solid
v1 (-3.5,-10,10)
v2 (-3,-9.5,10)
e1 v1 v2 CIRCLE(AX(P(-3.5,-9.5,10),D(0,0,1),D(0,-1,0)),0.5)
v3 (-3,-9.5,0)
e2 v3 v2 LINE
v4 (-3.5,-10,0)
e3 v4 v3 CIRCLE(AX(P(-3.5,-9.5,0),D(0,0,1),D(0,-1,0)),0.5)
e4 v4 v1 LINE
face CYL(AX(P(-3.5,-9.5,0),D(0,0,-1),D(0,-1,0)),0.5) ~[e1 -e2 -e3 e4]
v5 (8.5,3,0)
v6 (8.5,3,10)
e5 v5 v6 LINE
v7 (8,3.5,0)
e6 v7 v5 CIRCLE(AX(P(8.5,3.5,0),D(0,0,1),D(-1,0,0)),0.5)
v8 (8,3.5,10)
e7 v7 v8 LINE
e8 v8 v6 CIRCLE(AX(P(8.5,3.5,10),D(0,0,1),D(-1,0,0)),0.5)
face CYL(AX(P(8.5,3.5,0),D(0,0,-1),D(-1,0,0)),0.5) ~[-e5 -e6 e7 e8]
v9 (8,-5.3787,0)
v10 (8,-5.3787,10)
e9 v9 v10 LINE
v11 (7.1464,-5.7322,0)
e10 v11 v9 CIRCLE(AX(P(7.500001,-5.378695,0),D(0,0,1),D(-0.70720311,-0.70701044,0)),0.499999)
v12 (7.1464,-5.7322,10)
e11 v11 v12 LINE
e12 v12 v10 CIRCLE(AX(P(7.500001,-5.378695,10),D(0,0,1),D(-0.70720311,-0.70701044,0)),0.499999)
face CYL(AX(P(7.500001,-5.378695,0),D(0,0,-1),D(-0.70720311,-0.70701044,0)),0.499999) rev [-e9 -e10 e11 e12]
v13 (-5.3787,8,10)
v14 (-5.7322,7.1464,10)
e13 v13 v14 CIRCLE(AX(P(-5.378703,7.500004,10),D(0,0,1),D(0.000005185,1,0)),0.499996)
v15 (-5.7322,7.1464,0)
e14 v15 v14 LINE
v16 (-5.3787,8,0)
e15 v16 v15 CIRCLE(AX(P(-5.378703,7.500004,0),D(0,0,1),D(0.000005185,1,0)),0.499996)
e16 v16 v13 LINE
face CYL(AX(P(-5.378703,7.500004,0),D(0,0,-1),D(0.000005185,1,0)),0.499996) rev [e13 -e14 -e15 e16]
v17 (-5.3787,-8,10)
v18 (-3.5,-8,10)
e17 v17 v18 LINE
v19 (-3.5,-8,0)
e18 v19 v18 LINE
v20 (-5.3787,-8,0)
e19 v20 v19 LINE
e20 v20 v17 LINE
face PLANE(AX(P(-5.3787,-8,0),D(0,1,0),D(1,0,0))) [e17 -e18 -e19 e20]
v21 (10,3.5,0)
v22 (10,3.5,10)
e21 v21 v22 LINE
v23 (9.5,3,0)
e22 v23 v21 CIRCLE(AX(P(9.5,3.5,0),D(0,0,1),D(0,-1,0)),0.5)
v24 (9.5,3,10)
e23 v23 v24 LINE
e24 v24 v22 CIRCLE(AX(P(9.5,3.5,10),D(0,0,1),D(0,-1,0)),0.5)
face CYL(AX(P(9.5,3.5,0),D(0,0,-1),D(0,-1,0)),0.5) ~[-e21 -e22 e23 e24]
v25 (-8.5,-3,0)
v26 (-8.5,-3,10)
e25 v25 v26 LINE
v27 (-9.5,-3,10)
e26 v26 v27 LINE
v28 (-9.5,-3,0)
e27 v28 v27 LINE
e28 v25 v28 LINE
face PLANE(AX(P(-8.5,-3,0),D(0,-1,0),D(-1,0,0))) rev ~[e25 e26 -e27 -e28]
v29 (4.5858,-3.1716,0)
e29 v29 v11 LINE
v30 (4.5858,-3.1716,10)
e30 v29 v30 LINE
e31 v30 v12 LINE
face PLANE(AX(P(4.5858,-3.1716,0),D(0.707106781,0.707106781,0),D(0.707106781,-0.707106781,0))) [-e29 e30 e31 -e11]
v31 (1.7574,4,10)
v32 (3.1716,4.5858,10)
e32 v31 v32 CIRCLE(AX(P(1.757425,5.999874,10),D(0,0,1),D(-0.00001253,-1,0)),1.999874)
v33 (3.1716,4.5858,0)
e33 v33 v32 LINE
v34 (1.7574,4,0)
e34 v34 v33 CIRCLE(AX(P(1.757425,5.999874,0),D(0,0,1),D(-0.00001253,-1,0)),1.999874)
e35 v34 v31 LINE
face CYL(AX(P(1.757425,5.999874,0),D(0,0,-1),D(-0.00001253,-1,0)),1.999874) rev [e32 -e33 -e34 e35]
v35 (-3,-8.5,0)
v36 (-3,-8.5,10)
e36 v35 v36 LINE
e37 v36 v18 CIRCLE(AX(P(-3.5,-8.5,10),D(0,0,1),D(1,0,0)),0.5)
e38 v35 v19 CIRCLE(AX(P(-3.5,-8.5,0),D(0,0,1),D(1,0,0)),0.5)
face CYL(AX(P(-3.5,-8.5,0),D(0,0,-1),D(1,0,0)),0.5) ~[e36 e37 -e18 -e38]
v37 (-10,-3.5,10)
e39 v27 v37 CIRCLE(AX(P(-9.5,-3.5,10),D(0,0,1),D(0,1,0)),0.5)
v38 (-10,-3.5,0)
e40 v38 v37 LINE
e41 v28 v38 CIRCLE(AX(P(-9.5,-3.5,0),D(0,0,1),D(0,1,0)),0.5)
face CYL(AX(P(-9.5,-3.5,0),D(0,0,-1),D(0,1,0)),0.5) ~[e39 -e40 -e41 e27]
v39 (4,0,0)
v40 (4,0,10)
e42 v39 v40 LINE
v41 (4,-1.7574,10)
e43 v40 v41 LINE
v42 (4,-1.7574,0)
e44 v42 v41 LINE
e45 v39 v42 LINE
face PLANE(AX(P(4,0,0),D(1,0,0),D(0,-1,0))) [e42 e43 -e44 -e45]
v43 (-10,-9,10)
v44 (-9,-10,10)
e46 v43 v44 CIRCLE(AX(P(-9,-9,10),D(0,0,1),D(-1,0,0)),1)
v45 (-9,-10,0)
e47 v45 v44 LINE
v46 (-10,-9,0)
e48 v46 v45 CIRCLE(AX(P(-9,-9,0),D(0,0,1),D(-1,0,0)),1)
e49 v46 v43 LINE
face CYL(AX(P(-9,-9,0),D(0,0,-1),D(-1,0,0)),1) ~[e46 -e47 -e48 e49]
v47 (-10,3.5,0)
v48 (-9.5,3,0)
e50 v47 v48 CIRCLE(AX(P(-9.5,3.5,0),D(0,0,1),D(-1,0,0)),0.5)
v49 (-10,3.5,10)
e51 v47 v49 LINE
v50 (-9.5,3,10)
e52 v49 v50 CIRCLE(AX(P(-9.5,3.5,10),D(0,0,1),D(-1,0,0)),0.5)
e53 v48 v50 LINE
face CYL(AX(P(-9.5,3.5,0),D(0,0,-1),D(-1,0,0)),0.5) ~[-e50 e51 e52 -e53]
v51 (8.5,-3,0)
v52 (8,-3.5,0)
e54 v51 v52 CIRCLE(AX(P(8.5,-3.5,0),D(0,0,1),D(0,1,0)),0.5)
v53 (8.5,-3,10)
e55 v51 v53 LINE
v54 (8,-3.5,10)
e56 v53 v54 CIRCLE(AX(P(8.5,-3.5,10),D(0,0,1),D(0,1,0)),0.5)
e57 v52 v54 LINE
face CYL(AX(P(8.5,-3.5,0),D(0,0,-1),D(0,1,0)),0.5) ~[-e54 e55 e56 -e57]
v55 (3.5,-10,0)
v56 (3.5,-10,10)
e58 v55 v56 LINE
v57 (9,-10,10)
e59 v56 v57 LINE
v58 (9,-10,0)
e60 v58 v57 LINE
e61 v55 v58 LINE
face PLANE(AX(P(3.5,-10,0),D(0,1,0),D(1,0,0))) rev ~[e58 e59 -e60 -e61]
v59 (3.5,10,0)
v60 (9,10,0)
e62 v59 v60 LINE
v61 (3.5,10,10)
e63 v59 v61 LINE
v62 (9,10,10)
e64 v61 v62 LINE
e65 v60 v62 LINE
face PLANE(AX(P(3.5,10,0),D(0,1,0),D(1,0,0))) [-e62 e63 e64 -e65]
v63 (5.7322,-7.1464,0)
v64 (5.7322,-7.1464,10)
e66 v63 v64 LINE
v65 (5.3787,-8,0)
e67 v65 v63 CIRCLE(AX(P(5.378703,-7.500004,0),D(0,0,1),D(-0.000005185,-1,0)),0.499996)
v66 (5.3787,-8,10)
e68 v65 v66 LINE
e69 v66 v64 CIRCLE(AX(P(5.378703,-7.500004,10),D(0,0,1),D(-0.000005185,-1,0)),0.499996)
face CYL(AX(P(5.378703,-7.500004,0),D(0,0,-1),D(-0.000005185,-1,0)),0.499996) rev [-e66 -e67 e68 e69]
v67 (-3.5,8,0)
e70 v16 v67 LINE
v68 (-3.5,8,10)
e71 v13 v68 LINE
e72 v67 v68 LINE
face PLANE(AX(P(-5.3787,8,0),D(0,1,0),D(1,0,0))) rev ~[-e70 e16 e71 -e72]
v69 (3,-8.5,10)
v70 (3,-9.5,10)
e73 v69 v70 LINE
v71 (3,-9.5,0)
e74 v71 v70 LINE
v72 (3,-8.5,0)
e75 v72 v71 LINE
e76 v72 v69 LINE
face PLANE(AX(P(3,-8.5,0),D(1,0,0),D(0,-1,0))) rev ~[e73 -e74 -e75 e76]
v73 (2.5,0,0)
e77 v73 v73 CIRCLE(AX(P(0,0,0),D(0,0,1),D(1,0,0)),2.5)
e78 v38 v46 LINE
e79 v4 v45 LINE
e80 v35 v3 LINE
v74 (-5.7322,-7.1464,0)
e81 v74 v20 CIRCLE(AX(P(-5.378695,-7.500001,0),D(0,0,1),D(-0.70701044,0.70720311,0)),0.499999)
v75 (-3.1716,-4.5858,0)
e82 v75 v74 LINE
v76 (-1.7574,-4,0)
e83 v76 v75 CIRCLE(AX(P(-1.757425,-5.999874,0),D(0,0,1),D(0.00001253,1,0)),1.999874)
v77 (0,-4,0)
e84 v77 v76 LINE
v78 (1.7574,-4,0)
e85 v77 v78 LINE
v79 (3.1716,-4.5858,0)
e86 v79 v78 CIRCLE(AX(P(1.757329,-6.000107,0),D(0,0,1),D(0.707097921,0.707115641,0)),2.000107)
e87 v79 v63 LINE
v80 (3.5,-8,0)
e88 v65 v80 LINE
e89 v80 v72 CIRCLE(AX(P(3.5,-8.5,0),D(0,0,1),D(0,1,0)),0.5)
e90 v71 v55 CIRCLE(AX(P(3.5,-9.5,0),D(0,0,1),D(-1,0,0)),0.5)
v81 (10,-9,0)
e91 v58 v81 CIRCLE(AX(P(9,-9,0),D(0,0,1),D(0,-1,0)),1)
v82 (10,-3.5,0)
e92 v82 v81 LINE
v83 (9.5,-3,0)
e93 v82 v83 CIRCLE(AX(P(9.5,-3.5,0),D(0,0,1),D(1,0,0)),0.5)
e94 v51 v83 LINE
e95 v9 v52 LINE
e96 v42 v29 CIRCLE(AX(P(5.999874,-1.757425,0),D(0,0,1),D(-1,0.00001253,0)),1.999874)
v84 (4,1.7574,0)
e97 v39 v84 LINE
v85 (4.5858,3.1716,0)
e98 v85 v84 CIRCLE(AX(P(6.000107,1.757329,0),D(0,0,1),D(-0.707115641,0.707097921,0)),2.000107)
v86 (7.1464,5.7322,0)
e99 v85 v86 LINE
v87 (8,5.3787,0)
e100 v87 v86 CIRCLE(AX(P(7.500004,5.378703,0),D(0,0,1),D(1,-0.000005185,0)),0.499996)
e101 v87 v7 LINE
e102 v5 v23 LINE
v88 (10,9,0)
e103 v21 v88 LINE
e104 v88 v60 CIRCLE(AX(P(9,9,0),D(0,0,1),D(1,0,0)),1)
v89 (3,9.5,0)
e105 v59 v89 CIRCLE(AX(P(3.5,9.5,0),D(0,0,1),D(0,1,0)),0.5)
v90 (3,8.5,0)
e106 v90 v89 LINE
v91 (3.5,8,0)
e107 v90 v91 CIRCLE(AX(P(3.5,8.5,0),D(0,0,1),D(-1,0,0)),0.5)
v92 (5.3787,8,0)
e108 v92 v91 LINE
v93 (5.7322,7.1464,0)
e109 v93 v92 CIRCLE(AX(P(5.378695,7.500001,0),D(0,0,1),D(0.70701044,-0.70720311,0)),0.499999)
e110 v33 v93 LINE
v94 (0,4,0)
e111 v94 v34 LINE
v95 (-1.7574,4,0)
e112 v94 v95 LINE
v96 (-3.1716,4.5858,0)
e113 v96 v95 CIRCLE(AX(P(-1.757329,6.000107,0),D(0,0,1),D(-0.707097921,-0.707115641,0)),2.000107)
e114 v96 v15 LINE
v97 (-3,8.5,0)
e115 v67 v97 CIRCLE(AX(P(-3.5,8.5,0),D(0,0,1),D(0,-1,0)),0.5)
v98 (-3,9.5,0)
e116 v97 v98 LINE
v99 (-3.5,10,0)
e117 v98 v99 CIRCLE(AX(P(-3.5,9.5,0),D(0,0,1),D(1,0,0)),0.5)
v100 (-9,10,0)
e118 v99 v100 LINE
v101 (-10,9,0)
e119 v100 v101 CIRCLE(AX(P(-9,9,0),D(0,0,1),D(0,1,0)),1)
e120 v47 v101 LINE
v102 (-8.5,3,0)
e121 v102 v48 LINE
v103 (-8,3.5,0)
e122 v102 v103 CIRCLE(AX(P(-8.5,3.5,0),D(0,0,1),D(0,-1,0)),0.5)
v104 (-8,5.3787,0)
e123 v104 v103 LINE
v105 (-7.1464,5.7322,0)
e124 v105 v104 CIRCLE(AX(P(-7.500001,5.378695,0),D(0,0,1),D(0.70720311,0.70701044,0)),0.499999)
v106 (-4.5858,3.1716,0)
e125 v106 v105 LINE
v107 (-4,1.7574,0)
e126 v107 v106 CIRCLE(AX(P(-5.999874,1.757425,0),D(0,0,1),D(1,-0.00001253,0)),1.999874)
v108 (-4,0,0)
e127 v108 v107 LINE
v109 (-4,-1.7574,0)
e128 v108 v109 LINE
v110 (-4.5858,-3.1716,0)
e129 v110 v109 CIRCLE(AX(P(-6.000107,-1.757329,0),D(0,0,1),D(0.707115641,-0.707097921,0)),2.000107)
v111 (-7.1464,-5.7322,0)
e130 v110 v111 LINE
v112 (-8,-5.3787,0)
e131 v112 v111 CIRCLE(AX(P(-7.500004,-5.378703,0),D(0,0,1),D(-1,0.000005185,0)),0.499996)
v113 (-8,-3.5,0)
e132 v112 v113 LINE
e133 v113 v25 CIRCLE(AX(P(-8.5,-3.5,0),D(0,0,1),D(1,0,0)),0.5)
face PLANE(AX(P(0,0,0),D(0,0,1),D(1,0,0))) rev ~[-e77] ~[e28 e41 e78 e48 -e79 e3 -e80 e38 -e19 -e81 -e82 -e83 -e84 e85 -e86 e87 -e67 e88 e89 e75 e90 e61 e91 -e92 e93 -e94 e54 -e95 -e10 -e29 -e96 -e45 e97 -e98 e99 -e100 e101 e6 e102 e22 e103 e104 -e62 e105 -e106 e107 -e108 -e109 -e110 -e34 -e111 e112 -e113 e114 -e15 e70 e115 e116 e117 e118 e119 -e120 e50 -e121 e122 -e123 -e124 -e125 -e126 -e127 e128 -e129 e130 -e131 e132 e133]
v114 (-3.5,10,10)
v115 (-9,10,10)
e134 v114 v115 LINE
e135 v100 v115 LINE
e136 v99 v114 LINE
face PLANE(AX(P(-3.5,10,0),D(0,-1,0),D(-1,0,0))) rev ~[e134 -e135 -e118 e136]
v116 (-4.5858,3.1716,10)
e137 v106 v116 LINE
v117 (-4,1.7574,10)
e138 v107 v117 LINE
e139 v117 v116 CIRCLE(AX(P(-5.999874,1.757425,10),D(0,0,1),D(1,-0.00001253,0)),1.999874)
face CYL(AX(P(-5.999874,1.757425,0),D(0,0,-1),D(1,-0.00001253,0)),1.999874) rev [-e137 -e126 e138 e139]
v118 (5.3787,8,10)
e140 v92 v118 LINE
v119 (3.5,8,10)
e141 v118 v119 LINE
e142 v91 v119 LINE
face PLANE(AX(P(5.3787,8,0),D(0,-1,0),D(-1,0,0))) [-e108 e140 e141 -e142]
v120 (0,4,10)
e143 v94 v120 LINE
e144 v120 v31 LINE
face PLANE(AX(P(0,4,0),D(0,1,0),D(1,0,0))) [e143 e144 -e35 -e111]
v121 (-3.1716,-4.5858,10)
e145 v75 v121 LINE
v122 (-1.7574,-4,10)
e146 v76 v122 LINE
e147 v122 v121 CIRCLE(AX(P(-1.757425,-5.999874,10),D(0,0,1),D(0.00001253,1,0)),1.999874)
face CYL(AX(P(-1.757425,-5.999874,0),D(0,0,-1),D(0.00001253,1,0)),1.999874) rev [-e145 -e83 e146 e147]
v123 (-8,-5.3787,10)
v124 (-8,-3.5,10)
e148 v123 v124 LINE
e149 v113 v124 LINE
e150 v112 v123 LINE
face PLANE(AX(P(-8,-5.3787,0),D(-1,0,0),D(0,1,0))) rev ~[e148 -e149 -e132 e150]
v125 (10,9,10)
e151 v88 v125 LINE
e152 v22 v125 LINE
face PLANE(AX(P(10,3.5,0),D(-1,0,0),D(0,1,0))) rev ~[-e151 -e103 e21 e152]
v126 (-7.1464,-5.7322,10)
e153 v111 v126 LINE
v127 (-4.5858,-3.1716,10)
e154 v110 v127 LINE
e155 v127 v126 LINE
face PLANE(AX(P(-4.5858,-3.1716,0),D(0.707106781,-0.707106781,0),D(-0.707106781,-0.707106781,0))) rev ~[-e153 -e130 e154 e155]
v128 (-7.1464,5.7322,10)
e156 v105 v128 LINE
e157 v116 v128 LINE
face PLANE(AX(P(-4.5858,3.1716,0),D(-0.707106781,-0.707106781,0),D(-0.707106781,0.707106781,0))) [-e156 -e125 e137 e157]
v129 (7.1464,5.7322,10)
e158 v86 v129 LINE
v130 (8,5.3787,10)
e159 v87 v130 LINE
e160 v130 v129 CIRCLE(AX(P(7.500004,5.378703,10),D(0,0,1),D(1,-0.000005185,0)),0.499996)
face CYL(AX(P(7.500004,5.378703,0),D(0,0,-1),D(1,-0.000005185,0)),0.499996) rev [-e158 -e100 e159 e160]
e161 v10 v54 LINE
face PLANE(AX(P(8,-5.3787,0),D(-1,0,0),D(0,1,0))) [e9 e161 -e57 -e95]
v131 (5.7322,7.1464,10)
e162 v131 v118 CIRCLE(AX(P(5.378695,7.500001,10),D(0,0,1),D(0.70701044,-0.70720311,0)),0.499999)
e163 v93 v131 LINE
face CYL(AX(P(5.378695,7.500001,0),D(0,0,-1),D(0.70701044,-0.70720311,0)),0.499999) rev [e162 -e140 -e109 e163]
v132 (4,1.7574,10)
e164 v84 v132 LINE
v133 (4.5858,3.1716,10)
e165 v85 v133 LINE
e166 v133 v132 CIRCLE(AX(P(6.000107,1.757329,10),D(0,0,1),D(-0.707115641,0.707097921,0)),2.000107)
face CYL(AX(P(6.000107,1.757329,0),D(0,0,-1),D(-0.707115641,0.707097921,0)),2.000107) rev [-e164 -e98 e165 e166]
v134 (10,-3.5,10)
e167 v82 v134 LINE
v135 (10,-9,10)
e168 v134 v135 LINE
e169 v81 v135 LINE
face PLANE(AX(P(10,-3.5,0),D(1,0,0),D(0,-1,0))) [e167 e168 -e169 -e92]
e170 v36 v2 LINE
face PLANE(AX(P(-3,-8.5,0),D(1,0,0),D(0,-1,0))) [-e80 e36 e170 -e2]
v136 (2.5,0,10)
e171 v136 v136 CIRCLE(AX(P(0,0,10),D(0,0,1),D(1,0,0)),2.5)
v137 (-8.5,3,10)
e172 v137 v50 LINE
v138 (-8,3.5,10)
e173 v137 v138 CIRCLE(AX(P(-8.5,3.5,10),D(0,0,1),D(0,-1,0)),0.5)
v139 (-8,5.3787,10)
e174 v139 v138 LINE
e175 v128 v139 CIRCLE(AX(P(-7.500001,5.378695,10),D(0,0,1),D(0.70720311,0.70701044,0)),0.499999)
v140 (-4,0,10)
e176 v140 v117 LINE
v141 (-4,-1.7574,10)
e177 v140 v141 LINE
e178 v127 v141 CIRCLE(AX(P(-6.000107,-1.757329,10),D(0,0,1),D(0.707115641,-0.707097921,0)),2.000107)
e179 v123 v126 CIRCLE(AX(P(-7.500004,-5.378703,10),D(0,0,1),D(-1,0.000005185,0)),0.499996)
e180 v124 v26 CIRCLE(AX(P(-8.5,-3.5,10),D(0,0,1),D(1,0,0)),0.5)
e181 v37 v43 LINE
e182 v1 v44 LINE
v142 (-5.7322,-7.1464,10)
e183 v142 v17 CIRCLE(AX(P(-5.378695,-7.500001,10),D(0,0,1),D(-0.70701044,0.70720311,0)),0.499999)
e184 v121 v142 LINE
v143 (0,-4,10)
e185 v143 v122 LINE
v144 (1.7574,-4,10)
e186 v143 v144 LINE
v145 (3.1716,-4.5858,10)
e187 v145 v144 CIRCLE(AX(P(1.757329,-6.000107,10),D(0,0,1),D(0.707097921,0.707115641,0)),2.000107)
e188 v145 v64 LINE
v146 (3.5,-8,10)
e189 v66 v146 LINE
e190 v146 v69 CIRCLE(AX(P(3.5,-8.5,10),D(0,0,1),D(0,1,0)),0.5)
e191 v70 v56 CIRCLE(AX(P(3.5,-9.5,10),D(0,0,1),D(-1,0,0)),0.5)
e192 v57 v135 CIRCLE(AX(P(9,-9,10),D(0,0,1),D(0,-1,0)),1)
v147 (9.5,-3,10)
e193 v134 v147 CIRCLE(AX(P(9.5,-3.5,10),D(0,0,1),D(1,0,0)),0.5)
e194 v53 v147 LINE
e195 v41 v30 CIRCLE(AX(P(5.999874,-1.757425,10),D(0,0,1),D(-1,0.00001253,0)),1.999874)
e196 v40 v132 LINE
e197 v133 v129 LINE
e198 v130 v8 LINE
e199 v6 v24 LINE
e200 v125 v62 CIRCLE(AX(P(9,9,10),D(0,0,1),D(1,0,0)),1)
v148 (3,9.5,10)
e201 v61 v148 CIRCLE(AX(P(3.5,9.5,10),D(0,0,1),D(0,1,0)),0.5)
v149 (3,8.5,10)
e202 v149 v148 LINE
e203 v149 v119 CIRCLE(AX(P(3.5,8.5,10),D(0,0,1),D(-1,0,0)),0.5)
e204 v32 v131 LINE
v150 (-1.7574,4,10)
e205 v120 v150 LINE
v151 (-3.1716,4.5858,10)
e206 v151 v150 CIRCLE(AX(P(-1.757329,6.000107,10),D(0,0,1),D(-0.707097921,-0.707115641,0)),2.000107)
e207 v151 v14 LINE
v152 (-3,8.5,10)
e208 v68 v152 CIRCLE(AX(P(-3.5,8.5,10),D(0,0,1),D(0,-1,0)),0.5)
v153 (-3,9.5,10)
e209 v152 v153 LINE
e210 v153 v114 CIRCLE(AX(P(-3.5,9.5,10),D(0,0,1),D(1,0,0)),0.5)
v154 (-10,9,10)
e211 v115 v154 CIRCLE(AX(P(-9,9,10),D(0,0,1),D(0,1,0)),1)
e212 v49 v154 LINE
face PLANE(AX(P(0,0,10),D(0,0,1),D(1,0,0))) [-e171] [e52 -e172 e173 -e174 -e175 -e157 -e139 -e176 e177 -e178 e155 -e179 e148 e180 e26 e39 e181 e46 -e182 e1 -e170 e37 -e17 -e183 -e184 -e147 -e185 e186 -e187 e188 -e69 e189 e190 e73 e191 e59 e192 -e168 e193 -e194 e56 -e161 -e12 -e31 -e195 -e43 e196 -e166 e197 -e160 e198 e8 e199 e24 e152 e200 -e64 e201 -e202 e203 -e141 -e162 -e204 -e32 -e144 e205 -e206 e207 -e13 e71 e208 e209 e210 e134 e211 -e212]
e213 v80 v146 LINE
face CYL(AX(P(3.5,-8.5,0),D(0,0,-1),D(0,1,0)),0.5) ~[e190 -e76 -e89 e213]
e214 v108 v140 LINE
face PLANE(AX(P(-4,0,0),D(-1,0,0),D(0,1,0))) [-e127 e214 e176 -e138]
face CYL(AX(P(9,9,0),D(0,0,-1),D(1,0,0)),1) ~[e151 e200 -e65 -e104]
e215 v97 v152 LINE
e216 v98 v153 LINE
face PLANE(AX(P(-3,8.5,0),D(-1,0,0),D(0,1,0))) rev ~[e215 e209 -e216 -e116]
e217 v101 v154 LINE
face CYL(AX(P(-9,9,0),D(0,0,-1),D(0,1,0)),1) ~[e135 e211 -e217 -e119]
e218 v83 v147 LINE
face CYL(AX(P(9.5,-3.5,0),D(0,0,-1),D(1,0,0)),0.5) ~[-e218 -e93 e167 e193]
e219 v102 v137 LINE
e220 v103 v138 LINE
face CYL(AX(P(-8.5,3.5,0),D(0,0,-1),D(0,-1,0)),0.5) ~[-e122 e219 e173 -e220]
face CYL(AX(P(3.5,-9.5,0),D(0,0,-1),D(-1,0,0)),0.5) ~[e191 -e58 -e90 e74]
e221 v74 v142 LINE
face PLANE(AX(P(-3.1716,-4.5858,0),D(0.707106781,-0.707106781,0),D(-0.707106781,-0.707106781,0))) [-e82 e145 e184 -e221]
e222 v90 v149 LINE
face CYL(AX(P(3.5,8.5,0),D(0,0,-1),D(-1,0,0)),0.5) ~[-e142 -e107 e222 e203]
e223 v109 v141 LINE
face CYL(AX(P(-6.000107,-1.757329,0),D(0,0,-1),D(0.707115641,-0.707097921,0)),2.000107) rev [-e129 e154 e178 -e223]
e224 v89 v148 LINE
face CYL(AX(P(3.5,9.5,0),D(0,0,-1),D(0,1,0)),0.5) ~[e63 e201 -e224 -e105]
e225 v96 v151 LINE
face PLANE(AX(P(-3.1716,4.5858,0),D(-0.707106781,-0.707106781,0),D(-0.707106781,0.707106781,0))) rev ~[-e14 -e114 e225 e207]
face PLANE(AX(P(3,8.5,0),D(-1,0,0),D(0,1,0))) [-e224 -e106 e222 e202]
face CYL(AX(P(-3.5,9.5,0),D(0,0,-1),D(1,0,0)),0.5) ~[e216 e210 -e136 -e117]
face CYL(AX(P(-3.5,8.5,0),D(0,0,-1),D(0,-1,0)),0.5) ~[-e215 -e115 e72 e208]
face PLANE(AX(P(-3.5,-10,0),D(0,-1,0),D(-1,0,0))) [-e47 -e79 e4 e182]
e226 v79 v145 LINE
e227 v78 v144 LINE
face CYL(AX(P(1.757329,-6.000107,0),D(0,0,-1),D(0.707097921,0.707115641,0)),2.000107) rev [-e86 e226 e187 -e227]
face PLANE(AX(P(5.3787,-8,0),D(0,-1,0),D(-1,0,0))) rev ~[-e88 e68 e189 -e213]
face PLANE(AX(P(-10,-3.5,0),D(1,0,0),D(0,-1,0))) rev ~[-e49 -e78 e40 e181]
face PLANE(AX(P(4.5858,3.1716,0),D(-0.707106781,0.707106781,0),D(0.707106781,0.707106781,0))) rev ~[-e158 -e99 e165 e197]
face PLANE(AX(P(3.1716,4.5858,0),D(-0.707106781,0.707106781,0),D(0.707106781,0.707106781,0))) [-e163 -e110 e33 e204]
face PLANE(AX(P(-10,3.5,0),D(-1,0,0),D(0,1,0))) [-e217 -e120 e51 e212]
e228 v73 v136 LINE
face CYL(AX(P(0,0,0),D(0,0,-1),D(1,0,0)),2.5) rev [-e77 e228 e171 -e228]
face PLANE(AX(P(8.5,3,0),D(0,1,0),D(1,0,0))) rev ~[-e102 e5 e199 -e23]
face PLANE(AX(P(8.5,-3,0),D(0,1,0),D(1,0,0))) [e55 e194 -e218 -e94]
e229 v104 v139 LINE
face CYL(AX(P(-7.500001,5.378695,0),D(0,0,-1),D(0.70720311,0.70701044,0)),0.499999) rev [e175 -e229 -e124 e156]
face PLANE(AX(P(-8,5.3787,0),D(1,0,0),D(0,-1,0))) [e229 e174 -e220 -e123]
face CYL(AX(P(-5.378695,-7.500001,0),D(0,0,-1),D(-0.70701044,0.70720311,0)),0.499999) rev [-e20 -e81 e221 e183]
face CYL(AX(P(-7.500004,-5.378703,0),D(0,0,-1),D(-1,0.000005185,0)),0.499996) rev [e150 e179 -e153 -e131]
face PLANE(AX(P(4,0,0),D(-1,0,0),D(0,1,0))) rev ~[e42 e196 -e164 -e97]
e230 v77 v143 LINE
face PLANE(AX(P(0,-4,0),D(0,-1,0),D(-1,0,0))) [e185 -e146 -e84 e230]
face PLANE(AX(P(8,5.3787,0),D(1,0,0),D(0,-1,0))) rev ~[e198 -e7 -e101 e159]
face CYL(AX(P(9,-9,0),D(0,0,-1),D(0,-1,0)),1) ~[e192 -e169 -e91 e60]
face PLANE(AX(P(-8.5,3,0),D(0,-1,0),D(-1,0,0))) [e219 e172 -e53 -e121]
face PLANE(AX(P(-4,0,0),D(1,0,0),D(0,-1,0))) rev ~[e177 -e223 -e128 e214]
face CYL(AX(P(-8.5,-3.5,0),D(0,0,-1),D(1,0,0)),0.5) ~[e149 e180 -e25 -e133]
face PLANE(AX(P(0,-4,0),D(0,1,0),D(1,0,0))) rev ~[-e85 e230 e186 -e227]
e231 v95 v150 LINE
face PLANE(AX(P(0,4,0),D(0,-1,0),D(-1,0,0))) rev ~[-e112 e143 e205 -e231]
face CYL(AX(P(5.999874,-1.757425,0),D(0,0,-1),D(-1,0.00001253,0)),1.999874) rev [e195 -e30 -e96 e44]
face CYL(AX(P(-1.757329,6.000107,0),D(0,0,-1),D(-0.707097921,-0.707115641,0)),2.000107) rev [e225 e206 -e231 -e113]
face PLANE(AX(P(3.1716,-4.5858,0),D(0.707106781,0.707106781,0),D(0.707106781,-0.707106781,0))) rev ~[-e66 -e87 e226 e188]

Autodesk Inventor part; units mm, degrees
ref_plane "YZ Plane" through (0, 0, 0) normal (1, 0, 0) x (0, 1, 0)
ref_plane "Start Plane" through (0, 0, 0) normal (0, 0, 1) x (1, 0, 0)
ref_plane "End Plane" through (0, 0, 10) normal (0, 0, 1) x (1, 0, 0)
sketch "Sketch1" plane through (0, 0, 0) normal (0, 0, 1) x (1, 0, 0)
  line L0 (0, 0) -> (2.5, 0) construction
  line L1 (0, 0) -> (0, 2.5) construction
  line L2 (0, 4) -> (0, -4) construction
  line L3 (0, 4) -> (1.7574, 4)
  arc A0 (1.7574, 4) -> (3.1716, 4.5858) centre (1.7574, 6) ccw
  line L4 (3.1716, 4.5858) -> (5.7322, 7.1464)
  line L5 (-4, 0) -> (4, 0) construction
  line L6 (4, 0) -> (4, 1.7574)
  arc A1 (4.5858, 3.1716) -> (4, 1.7574) centre (6, 1.7574) ccw
  line L7 (4.5858, 3.1716) -> (7.1464, 5.7322)
  line L8 (0, 0) -> (10, 10) construction
  line L9 (0, 0) -> (19.6827, 0) construction
  arc A2 (8, 5.3787) -> (7.1464, 5.7322) centre (7.5, 5.3787) ccw
  line L10 (8, 5.3787) -> (8, 3.5)
  arc A3 (8, 3.5) -> (8.5, 3) centre (8.5, 3.5) ccw
  line L11 (8.5, 3) -> (9.5, 3)
  arc A4 (9.5, 3) -> (10, 3.5) centre (9.5, 3.5) ccw
  line L12 (10, 3.5) -> (10, 9)
  line L13 (10, 9) -> (10, 10) construction
  arc A5 (5.7322, 7.1464) -> (5.3787, 8) centre (5.3787, 7.5) ccw
  line L14 (5.3787, 8) -> (3.5, 8)
  arc A6 (3, 8.5) -> (3.5, 8) centre (3.5, 8.5) ccw
  line L15 (3, 8.5) -> (3, 9.5)
  arc A7 (3.5, 10) -> (3, 9.5) centre (3.5, 9.5) ccw
  line L16 (3.5, 10) -> (9, 10)
  arc A8 (10, 9) -> (9, 10) centre (9, 9) ccw
  line L17 (0, 4) -> (-1.7574, 4)
  arc A9 (-3.1716, 4.5858) -> (-1.7574, 4) centre (-1.7574, 6) ccw
  line L18 (-3.1716, 4.5858) -> (-5.7322, 7.1464)
  line L19 (-4, 0) -> (-4, 1.7574)
  arc A10 (-4, 1.7574) -> (-4.5858, 3.1716) centre (-6, 1.7574) ccw
  line L20 (-4.5858, 3.1716) -> (-7.1464, 5.7322)
  arc A11 (-7.1464, 5.7322) -> (-8, 5.3787) centre (-7.5, 5.3787) ccw
  line L21 (-8, 5.3787) -> (-8, 3.5)
  arc A12 (-8.5, 3) -> (-8, 3.5) centre (-8.5, 3.5) ccw
  line L22 (-8.5, 3) -> (-9.5, 3)
  arc A13 (-10, 3.5) -> (-9.5, 3) centre (-9.5, 3.5) ccw
  line L23 (-10, 3.5) -> (-10, 9)
  arc A14 (-5.3787, 8) -> (-5.7322, 7.1464) centre (-5.3787, 7.5) ccw
  line L24 (-5.3787, 8) -> (-3.5, 8)
  arc A15 (-3.5, 8) -> (-3, 8.5) centre (-3.5, 8.5) ccw
  line L25 (-3, 8.5) -> (-3, 9.5)
  arc A16 (-3, 9.5) -> (-3.5, 10) centre (-3.5, 9.5) ccw
  line L26 (-3.5, 10) -> (-9, 10)
  arc A17 (-9, 10) -> (-10, 9) centre (-9, 9) ccw
  line L27 (0, -4) -> (-1.7574, -4)
  arc A18 (-1.7574, -4) -> (-3.1716, -4.5858) centre (-1.7574, -6) ccw
  line L28 (-3.1716, -4.5858) -> (-5.7322, -7.1464)
  arc A19 (-5.7322, -7.1464) -> (-5.3787, -8) centre (-5.3787, -7.5) ccw
  line L29 (-5.3787, -8) -> (-3.5, -8)
  arc A20 (-3, -8.5) -> (-3.5, -8) centre (-3.5, -8.5) ccw
  line L30 (-3, -8.5) -> (-3, -9.5)
  arc A21 (-3.5, -10) -> (-3, -9.5) centre (-3.5, -9.5) ccw
  line L31 (-3.5, -10) -> (-9, -10)
  arc A22 (-10, -9) -> (-9, -10) centre (-9, -9) ccw
  line L32 (-10, -3.5) -> (-10, -9)
  arc A23 (-9.5, -3) -> (-10, -3.5) centre (-9.5, -3.5) ccw
  line L33 (-8.5, -3) -> (-9.5, -3)
  arc A24 (-8, -3.5) -> (-8.5, -3) centre (-8.5, -3.5) ccw
  line L34 (-8, -5.3787) -> (-8, -3.5)
  arc A25 (-8, -5.3787) -> (-7.1464, -5.7322) centre (-7.5, -5.3787) ccw
  line L35 (-4.5858, -3.1716) -> (-7.1464, -5.7322)
  arc A26 (-4.5858, -3.1716) -> (-4, -1.7574) centre (-6, -1.7574) ccw
  line L36 (-4, 0) -> (-4, -1.7574)
  line L37 (3.5, -10) -> (9, -10)
  arc A27 (9, -10) -> (10, -9) centre (9, -9) ccw
  line L38 (10, -3.5) -> (10, -9)
  arc A28 (10, -3.5) -> (9.5, -3) centre (9.5, -3.5) ccw
  line L39 (8.5, -3) -> (9.5, -3)
  arc A29 (8.5, -3) -> (8, -3.5) centre (8.5, -3.5) ccw
  line L40 (8, -5.3787) -> (8, -3.5)
  arc A30 (7.1464, -5.7322) -> (8, -5.3787) centre (7.5, -5.3787) ccw
  line L41 (4.5858, -3.1716) -> (7.1464, -5.7322)
  arc A31 (4, -1.7574) -> (4.5858, -3.1716) centre (6, -1.7574) ccw
  line L42 (4, 0) -> (4, -1.7574)
  line L43 (5.3787, -8) -> (3.5, -8)
  arc A32 (5.3787, -8) -> (5.7322, -7.1464) centre (5.3787, -7.5) ccw
  line L44 (3.1716, -4.5858) -> (5.7322, -7.1464)
  arc A33 (3.1716, -4.5858) -> (1.7574, -4) centre (1.7574, -6) ccw
  line L45 (0, -4) -> (1.7574, -4)
  arc A34 (3.5, -8) -> (3, -8.5) centre (3.5, -8.5) ccw
  line L46 (3, -8.5) -> (3, -9.5)
  arc A35 (3, -9.5) -> (3.5, -10) centre (3.5, -9.5) ccw
  circle A36 centre (0, 0) radius 2.5
  dimension "d1" = 8
  dimension "d2" = 2
  dimension "d3" = 8
  dimension "d4" = 2
  dimension "d5" = 2
  dimension "d7" = 45
  dimension "d8" = 0.5
  dimension "d9" = 0.5
  dimension "d10" = 0.5
  dimension "d12" = 2
  dimension "d17" = 7
  dimension "d18" = 10
  dimension "d19" = 0.5
  dimension "d20" = 1
  dimension "d21" = 0.5
  dimension "d22" = 0.5
  dimension "d23" = 2
  dimension "d24" = 7
  dimension "d25" = 5
extrude "Body" add sketch "Sketch1" along normal up to surface (10 mm away) from surface at 0
sketch "Sketch2" plane through (0, 0, 0) normal (0, 0, 1) x (1, 0, 0)
  line L0 (0, 0) -> (10, 0)
ref_plane "Work Plane3" through (0, 0, 0) normal (0, -1, 0) x (1, 0, 0)
sketch "Sketch3" plane through (0, 0, 0) normal (0, -1, 0) x (1, 0, 0)
  line L0 (-14, 0) -> (14, 0)
  line L1 (-14, 10) -> (14, 10)
  dimension "d33" = 10
equation "\"d1\" = 8 * sigma"
equation "\"d2\" = 2 * sigma"
equation "\"d3\" = 8 * sigma"
equation "\"d4\" = 2 * sigma"
equation "\"d5\" = 2 * sigma"
equation "\"d8\" = 0.5 * sigma"
equation "\"d9\" = 0.5 * sigma"
equation "\"d10\" = 0.5 * sigma"
equation "\"d12\" = 2 * sigma"
equation "\"d17\" = 7 * sigma"
equation "\"d18\" = sigma"
equation "\"d19\" = 0.5 * sigma"
equation "\"d20\" = sigma"
equation "\"d21\" = 0.5 * sigma"
equation "\"d22\" = 0.5 * sigma"
equation "\"d23\" = 2 * sigma"
equation "\"d24\" = 7 * sigma"
equation "\"d25\" = 5 * sigma"
equation "\"sigma\" = 1"
equation "\"G_OFFSET_START\" = 0"
equation "\"G_OFFSET_END\" = 0"
equation "\"G_L\" = d33"
properties part number "A3.3-MEM"
